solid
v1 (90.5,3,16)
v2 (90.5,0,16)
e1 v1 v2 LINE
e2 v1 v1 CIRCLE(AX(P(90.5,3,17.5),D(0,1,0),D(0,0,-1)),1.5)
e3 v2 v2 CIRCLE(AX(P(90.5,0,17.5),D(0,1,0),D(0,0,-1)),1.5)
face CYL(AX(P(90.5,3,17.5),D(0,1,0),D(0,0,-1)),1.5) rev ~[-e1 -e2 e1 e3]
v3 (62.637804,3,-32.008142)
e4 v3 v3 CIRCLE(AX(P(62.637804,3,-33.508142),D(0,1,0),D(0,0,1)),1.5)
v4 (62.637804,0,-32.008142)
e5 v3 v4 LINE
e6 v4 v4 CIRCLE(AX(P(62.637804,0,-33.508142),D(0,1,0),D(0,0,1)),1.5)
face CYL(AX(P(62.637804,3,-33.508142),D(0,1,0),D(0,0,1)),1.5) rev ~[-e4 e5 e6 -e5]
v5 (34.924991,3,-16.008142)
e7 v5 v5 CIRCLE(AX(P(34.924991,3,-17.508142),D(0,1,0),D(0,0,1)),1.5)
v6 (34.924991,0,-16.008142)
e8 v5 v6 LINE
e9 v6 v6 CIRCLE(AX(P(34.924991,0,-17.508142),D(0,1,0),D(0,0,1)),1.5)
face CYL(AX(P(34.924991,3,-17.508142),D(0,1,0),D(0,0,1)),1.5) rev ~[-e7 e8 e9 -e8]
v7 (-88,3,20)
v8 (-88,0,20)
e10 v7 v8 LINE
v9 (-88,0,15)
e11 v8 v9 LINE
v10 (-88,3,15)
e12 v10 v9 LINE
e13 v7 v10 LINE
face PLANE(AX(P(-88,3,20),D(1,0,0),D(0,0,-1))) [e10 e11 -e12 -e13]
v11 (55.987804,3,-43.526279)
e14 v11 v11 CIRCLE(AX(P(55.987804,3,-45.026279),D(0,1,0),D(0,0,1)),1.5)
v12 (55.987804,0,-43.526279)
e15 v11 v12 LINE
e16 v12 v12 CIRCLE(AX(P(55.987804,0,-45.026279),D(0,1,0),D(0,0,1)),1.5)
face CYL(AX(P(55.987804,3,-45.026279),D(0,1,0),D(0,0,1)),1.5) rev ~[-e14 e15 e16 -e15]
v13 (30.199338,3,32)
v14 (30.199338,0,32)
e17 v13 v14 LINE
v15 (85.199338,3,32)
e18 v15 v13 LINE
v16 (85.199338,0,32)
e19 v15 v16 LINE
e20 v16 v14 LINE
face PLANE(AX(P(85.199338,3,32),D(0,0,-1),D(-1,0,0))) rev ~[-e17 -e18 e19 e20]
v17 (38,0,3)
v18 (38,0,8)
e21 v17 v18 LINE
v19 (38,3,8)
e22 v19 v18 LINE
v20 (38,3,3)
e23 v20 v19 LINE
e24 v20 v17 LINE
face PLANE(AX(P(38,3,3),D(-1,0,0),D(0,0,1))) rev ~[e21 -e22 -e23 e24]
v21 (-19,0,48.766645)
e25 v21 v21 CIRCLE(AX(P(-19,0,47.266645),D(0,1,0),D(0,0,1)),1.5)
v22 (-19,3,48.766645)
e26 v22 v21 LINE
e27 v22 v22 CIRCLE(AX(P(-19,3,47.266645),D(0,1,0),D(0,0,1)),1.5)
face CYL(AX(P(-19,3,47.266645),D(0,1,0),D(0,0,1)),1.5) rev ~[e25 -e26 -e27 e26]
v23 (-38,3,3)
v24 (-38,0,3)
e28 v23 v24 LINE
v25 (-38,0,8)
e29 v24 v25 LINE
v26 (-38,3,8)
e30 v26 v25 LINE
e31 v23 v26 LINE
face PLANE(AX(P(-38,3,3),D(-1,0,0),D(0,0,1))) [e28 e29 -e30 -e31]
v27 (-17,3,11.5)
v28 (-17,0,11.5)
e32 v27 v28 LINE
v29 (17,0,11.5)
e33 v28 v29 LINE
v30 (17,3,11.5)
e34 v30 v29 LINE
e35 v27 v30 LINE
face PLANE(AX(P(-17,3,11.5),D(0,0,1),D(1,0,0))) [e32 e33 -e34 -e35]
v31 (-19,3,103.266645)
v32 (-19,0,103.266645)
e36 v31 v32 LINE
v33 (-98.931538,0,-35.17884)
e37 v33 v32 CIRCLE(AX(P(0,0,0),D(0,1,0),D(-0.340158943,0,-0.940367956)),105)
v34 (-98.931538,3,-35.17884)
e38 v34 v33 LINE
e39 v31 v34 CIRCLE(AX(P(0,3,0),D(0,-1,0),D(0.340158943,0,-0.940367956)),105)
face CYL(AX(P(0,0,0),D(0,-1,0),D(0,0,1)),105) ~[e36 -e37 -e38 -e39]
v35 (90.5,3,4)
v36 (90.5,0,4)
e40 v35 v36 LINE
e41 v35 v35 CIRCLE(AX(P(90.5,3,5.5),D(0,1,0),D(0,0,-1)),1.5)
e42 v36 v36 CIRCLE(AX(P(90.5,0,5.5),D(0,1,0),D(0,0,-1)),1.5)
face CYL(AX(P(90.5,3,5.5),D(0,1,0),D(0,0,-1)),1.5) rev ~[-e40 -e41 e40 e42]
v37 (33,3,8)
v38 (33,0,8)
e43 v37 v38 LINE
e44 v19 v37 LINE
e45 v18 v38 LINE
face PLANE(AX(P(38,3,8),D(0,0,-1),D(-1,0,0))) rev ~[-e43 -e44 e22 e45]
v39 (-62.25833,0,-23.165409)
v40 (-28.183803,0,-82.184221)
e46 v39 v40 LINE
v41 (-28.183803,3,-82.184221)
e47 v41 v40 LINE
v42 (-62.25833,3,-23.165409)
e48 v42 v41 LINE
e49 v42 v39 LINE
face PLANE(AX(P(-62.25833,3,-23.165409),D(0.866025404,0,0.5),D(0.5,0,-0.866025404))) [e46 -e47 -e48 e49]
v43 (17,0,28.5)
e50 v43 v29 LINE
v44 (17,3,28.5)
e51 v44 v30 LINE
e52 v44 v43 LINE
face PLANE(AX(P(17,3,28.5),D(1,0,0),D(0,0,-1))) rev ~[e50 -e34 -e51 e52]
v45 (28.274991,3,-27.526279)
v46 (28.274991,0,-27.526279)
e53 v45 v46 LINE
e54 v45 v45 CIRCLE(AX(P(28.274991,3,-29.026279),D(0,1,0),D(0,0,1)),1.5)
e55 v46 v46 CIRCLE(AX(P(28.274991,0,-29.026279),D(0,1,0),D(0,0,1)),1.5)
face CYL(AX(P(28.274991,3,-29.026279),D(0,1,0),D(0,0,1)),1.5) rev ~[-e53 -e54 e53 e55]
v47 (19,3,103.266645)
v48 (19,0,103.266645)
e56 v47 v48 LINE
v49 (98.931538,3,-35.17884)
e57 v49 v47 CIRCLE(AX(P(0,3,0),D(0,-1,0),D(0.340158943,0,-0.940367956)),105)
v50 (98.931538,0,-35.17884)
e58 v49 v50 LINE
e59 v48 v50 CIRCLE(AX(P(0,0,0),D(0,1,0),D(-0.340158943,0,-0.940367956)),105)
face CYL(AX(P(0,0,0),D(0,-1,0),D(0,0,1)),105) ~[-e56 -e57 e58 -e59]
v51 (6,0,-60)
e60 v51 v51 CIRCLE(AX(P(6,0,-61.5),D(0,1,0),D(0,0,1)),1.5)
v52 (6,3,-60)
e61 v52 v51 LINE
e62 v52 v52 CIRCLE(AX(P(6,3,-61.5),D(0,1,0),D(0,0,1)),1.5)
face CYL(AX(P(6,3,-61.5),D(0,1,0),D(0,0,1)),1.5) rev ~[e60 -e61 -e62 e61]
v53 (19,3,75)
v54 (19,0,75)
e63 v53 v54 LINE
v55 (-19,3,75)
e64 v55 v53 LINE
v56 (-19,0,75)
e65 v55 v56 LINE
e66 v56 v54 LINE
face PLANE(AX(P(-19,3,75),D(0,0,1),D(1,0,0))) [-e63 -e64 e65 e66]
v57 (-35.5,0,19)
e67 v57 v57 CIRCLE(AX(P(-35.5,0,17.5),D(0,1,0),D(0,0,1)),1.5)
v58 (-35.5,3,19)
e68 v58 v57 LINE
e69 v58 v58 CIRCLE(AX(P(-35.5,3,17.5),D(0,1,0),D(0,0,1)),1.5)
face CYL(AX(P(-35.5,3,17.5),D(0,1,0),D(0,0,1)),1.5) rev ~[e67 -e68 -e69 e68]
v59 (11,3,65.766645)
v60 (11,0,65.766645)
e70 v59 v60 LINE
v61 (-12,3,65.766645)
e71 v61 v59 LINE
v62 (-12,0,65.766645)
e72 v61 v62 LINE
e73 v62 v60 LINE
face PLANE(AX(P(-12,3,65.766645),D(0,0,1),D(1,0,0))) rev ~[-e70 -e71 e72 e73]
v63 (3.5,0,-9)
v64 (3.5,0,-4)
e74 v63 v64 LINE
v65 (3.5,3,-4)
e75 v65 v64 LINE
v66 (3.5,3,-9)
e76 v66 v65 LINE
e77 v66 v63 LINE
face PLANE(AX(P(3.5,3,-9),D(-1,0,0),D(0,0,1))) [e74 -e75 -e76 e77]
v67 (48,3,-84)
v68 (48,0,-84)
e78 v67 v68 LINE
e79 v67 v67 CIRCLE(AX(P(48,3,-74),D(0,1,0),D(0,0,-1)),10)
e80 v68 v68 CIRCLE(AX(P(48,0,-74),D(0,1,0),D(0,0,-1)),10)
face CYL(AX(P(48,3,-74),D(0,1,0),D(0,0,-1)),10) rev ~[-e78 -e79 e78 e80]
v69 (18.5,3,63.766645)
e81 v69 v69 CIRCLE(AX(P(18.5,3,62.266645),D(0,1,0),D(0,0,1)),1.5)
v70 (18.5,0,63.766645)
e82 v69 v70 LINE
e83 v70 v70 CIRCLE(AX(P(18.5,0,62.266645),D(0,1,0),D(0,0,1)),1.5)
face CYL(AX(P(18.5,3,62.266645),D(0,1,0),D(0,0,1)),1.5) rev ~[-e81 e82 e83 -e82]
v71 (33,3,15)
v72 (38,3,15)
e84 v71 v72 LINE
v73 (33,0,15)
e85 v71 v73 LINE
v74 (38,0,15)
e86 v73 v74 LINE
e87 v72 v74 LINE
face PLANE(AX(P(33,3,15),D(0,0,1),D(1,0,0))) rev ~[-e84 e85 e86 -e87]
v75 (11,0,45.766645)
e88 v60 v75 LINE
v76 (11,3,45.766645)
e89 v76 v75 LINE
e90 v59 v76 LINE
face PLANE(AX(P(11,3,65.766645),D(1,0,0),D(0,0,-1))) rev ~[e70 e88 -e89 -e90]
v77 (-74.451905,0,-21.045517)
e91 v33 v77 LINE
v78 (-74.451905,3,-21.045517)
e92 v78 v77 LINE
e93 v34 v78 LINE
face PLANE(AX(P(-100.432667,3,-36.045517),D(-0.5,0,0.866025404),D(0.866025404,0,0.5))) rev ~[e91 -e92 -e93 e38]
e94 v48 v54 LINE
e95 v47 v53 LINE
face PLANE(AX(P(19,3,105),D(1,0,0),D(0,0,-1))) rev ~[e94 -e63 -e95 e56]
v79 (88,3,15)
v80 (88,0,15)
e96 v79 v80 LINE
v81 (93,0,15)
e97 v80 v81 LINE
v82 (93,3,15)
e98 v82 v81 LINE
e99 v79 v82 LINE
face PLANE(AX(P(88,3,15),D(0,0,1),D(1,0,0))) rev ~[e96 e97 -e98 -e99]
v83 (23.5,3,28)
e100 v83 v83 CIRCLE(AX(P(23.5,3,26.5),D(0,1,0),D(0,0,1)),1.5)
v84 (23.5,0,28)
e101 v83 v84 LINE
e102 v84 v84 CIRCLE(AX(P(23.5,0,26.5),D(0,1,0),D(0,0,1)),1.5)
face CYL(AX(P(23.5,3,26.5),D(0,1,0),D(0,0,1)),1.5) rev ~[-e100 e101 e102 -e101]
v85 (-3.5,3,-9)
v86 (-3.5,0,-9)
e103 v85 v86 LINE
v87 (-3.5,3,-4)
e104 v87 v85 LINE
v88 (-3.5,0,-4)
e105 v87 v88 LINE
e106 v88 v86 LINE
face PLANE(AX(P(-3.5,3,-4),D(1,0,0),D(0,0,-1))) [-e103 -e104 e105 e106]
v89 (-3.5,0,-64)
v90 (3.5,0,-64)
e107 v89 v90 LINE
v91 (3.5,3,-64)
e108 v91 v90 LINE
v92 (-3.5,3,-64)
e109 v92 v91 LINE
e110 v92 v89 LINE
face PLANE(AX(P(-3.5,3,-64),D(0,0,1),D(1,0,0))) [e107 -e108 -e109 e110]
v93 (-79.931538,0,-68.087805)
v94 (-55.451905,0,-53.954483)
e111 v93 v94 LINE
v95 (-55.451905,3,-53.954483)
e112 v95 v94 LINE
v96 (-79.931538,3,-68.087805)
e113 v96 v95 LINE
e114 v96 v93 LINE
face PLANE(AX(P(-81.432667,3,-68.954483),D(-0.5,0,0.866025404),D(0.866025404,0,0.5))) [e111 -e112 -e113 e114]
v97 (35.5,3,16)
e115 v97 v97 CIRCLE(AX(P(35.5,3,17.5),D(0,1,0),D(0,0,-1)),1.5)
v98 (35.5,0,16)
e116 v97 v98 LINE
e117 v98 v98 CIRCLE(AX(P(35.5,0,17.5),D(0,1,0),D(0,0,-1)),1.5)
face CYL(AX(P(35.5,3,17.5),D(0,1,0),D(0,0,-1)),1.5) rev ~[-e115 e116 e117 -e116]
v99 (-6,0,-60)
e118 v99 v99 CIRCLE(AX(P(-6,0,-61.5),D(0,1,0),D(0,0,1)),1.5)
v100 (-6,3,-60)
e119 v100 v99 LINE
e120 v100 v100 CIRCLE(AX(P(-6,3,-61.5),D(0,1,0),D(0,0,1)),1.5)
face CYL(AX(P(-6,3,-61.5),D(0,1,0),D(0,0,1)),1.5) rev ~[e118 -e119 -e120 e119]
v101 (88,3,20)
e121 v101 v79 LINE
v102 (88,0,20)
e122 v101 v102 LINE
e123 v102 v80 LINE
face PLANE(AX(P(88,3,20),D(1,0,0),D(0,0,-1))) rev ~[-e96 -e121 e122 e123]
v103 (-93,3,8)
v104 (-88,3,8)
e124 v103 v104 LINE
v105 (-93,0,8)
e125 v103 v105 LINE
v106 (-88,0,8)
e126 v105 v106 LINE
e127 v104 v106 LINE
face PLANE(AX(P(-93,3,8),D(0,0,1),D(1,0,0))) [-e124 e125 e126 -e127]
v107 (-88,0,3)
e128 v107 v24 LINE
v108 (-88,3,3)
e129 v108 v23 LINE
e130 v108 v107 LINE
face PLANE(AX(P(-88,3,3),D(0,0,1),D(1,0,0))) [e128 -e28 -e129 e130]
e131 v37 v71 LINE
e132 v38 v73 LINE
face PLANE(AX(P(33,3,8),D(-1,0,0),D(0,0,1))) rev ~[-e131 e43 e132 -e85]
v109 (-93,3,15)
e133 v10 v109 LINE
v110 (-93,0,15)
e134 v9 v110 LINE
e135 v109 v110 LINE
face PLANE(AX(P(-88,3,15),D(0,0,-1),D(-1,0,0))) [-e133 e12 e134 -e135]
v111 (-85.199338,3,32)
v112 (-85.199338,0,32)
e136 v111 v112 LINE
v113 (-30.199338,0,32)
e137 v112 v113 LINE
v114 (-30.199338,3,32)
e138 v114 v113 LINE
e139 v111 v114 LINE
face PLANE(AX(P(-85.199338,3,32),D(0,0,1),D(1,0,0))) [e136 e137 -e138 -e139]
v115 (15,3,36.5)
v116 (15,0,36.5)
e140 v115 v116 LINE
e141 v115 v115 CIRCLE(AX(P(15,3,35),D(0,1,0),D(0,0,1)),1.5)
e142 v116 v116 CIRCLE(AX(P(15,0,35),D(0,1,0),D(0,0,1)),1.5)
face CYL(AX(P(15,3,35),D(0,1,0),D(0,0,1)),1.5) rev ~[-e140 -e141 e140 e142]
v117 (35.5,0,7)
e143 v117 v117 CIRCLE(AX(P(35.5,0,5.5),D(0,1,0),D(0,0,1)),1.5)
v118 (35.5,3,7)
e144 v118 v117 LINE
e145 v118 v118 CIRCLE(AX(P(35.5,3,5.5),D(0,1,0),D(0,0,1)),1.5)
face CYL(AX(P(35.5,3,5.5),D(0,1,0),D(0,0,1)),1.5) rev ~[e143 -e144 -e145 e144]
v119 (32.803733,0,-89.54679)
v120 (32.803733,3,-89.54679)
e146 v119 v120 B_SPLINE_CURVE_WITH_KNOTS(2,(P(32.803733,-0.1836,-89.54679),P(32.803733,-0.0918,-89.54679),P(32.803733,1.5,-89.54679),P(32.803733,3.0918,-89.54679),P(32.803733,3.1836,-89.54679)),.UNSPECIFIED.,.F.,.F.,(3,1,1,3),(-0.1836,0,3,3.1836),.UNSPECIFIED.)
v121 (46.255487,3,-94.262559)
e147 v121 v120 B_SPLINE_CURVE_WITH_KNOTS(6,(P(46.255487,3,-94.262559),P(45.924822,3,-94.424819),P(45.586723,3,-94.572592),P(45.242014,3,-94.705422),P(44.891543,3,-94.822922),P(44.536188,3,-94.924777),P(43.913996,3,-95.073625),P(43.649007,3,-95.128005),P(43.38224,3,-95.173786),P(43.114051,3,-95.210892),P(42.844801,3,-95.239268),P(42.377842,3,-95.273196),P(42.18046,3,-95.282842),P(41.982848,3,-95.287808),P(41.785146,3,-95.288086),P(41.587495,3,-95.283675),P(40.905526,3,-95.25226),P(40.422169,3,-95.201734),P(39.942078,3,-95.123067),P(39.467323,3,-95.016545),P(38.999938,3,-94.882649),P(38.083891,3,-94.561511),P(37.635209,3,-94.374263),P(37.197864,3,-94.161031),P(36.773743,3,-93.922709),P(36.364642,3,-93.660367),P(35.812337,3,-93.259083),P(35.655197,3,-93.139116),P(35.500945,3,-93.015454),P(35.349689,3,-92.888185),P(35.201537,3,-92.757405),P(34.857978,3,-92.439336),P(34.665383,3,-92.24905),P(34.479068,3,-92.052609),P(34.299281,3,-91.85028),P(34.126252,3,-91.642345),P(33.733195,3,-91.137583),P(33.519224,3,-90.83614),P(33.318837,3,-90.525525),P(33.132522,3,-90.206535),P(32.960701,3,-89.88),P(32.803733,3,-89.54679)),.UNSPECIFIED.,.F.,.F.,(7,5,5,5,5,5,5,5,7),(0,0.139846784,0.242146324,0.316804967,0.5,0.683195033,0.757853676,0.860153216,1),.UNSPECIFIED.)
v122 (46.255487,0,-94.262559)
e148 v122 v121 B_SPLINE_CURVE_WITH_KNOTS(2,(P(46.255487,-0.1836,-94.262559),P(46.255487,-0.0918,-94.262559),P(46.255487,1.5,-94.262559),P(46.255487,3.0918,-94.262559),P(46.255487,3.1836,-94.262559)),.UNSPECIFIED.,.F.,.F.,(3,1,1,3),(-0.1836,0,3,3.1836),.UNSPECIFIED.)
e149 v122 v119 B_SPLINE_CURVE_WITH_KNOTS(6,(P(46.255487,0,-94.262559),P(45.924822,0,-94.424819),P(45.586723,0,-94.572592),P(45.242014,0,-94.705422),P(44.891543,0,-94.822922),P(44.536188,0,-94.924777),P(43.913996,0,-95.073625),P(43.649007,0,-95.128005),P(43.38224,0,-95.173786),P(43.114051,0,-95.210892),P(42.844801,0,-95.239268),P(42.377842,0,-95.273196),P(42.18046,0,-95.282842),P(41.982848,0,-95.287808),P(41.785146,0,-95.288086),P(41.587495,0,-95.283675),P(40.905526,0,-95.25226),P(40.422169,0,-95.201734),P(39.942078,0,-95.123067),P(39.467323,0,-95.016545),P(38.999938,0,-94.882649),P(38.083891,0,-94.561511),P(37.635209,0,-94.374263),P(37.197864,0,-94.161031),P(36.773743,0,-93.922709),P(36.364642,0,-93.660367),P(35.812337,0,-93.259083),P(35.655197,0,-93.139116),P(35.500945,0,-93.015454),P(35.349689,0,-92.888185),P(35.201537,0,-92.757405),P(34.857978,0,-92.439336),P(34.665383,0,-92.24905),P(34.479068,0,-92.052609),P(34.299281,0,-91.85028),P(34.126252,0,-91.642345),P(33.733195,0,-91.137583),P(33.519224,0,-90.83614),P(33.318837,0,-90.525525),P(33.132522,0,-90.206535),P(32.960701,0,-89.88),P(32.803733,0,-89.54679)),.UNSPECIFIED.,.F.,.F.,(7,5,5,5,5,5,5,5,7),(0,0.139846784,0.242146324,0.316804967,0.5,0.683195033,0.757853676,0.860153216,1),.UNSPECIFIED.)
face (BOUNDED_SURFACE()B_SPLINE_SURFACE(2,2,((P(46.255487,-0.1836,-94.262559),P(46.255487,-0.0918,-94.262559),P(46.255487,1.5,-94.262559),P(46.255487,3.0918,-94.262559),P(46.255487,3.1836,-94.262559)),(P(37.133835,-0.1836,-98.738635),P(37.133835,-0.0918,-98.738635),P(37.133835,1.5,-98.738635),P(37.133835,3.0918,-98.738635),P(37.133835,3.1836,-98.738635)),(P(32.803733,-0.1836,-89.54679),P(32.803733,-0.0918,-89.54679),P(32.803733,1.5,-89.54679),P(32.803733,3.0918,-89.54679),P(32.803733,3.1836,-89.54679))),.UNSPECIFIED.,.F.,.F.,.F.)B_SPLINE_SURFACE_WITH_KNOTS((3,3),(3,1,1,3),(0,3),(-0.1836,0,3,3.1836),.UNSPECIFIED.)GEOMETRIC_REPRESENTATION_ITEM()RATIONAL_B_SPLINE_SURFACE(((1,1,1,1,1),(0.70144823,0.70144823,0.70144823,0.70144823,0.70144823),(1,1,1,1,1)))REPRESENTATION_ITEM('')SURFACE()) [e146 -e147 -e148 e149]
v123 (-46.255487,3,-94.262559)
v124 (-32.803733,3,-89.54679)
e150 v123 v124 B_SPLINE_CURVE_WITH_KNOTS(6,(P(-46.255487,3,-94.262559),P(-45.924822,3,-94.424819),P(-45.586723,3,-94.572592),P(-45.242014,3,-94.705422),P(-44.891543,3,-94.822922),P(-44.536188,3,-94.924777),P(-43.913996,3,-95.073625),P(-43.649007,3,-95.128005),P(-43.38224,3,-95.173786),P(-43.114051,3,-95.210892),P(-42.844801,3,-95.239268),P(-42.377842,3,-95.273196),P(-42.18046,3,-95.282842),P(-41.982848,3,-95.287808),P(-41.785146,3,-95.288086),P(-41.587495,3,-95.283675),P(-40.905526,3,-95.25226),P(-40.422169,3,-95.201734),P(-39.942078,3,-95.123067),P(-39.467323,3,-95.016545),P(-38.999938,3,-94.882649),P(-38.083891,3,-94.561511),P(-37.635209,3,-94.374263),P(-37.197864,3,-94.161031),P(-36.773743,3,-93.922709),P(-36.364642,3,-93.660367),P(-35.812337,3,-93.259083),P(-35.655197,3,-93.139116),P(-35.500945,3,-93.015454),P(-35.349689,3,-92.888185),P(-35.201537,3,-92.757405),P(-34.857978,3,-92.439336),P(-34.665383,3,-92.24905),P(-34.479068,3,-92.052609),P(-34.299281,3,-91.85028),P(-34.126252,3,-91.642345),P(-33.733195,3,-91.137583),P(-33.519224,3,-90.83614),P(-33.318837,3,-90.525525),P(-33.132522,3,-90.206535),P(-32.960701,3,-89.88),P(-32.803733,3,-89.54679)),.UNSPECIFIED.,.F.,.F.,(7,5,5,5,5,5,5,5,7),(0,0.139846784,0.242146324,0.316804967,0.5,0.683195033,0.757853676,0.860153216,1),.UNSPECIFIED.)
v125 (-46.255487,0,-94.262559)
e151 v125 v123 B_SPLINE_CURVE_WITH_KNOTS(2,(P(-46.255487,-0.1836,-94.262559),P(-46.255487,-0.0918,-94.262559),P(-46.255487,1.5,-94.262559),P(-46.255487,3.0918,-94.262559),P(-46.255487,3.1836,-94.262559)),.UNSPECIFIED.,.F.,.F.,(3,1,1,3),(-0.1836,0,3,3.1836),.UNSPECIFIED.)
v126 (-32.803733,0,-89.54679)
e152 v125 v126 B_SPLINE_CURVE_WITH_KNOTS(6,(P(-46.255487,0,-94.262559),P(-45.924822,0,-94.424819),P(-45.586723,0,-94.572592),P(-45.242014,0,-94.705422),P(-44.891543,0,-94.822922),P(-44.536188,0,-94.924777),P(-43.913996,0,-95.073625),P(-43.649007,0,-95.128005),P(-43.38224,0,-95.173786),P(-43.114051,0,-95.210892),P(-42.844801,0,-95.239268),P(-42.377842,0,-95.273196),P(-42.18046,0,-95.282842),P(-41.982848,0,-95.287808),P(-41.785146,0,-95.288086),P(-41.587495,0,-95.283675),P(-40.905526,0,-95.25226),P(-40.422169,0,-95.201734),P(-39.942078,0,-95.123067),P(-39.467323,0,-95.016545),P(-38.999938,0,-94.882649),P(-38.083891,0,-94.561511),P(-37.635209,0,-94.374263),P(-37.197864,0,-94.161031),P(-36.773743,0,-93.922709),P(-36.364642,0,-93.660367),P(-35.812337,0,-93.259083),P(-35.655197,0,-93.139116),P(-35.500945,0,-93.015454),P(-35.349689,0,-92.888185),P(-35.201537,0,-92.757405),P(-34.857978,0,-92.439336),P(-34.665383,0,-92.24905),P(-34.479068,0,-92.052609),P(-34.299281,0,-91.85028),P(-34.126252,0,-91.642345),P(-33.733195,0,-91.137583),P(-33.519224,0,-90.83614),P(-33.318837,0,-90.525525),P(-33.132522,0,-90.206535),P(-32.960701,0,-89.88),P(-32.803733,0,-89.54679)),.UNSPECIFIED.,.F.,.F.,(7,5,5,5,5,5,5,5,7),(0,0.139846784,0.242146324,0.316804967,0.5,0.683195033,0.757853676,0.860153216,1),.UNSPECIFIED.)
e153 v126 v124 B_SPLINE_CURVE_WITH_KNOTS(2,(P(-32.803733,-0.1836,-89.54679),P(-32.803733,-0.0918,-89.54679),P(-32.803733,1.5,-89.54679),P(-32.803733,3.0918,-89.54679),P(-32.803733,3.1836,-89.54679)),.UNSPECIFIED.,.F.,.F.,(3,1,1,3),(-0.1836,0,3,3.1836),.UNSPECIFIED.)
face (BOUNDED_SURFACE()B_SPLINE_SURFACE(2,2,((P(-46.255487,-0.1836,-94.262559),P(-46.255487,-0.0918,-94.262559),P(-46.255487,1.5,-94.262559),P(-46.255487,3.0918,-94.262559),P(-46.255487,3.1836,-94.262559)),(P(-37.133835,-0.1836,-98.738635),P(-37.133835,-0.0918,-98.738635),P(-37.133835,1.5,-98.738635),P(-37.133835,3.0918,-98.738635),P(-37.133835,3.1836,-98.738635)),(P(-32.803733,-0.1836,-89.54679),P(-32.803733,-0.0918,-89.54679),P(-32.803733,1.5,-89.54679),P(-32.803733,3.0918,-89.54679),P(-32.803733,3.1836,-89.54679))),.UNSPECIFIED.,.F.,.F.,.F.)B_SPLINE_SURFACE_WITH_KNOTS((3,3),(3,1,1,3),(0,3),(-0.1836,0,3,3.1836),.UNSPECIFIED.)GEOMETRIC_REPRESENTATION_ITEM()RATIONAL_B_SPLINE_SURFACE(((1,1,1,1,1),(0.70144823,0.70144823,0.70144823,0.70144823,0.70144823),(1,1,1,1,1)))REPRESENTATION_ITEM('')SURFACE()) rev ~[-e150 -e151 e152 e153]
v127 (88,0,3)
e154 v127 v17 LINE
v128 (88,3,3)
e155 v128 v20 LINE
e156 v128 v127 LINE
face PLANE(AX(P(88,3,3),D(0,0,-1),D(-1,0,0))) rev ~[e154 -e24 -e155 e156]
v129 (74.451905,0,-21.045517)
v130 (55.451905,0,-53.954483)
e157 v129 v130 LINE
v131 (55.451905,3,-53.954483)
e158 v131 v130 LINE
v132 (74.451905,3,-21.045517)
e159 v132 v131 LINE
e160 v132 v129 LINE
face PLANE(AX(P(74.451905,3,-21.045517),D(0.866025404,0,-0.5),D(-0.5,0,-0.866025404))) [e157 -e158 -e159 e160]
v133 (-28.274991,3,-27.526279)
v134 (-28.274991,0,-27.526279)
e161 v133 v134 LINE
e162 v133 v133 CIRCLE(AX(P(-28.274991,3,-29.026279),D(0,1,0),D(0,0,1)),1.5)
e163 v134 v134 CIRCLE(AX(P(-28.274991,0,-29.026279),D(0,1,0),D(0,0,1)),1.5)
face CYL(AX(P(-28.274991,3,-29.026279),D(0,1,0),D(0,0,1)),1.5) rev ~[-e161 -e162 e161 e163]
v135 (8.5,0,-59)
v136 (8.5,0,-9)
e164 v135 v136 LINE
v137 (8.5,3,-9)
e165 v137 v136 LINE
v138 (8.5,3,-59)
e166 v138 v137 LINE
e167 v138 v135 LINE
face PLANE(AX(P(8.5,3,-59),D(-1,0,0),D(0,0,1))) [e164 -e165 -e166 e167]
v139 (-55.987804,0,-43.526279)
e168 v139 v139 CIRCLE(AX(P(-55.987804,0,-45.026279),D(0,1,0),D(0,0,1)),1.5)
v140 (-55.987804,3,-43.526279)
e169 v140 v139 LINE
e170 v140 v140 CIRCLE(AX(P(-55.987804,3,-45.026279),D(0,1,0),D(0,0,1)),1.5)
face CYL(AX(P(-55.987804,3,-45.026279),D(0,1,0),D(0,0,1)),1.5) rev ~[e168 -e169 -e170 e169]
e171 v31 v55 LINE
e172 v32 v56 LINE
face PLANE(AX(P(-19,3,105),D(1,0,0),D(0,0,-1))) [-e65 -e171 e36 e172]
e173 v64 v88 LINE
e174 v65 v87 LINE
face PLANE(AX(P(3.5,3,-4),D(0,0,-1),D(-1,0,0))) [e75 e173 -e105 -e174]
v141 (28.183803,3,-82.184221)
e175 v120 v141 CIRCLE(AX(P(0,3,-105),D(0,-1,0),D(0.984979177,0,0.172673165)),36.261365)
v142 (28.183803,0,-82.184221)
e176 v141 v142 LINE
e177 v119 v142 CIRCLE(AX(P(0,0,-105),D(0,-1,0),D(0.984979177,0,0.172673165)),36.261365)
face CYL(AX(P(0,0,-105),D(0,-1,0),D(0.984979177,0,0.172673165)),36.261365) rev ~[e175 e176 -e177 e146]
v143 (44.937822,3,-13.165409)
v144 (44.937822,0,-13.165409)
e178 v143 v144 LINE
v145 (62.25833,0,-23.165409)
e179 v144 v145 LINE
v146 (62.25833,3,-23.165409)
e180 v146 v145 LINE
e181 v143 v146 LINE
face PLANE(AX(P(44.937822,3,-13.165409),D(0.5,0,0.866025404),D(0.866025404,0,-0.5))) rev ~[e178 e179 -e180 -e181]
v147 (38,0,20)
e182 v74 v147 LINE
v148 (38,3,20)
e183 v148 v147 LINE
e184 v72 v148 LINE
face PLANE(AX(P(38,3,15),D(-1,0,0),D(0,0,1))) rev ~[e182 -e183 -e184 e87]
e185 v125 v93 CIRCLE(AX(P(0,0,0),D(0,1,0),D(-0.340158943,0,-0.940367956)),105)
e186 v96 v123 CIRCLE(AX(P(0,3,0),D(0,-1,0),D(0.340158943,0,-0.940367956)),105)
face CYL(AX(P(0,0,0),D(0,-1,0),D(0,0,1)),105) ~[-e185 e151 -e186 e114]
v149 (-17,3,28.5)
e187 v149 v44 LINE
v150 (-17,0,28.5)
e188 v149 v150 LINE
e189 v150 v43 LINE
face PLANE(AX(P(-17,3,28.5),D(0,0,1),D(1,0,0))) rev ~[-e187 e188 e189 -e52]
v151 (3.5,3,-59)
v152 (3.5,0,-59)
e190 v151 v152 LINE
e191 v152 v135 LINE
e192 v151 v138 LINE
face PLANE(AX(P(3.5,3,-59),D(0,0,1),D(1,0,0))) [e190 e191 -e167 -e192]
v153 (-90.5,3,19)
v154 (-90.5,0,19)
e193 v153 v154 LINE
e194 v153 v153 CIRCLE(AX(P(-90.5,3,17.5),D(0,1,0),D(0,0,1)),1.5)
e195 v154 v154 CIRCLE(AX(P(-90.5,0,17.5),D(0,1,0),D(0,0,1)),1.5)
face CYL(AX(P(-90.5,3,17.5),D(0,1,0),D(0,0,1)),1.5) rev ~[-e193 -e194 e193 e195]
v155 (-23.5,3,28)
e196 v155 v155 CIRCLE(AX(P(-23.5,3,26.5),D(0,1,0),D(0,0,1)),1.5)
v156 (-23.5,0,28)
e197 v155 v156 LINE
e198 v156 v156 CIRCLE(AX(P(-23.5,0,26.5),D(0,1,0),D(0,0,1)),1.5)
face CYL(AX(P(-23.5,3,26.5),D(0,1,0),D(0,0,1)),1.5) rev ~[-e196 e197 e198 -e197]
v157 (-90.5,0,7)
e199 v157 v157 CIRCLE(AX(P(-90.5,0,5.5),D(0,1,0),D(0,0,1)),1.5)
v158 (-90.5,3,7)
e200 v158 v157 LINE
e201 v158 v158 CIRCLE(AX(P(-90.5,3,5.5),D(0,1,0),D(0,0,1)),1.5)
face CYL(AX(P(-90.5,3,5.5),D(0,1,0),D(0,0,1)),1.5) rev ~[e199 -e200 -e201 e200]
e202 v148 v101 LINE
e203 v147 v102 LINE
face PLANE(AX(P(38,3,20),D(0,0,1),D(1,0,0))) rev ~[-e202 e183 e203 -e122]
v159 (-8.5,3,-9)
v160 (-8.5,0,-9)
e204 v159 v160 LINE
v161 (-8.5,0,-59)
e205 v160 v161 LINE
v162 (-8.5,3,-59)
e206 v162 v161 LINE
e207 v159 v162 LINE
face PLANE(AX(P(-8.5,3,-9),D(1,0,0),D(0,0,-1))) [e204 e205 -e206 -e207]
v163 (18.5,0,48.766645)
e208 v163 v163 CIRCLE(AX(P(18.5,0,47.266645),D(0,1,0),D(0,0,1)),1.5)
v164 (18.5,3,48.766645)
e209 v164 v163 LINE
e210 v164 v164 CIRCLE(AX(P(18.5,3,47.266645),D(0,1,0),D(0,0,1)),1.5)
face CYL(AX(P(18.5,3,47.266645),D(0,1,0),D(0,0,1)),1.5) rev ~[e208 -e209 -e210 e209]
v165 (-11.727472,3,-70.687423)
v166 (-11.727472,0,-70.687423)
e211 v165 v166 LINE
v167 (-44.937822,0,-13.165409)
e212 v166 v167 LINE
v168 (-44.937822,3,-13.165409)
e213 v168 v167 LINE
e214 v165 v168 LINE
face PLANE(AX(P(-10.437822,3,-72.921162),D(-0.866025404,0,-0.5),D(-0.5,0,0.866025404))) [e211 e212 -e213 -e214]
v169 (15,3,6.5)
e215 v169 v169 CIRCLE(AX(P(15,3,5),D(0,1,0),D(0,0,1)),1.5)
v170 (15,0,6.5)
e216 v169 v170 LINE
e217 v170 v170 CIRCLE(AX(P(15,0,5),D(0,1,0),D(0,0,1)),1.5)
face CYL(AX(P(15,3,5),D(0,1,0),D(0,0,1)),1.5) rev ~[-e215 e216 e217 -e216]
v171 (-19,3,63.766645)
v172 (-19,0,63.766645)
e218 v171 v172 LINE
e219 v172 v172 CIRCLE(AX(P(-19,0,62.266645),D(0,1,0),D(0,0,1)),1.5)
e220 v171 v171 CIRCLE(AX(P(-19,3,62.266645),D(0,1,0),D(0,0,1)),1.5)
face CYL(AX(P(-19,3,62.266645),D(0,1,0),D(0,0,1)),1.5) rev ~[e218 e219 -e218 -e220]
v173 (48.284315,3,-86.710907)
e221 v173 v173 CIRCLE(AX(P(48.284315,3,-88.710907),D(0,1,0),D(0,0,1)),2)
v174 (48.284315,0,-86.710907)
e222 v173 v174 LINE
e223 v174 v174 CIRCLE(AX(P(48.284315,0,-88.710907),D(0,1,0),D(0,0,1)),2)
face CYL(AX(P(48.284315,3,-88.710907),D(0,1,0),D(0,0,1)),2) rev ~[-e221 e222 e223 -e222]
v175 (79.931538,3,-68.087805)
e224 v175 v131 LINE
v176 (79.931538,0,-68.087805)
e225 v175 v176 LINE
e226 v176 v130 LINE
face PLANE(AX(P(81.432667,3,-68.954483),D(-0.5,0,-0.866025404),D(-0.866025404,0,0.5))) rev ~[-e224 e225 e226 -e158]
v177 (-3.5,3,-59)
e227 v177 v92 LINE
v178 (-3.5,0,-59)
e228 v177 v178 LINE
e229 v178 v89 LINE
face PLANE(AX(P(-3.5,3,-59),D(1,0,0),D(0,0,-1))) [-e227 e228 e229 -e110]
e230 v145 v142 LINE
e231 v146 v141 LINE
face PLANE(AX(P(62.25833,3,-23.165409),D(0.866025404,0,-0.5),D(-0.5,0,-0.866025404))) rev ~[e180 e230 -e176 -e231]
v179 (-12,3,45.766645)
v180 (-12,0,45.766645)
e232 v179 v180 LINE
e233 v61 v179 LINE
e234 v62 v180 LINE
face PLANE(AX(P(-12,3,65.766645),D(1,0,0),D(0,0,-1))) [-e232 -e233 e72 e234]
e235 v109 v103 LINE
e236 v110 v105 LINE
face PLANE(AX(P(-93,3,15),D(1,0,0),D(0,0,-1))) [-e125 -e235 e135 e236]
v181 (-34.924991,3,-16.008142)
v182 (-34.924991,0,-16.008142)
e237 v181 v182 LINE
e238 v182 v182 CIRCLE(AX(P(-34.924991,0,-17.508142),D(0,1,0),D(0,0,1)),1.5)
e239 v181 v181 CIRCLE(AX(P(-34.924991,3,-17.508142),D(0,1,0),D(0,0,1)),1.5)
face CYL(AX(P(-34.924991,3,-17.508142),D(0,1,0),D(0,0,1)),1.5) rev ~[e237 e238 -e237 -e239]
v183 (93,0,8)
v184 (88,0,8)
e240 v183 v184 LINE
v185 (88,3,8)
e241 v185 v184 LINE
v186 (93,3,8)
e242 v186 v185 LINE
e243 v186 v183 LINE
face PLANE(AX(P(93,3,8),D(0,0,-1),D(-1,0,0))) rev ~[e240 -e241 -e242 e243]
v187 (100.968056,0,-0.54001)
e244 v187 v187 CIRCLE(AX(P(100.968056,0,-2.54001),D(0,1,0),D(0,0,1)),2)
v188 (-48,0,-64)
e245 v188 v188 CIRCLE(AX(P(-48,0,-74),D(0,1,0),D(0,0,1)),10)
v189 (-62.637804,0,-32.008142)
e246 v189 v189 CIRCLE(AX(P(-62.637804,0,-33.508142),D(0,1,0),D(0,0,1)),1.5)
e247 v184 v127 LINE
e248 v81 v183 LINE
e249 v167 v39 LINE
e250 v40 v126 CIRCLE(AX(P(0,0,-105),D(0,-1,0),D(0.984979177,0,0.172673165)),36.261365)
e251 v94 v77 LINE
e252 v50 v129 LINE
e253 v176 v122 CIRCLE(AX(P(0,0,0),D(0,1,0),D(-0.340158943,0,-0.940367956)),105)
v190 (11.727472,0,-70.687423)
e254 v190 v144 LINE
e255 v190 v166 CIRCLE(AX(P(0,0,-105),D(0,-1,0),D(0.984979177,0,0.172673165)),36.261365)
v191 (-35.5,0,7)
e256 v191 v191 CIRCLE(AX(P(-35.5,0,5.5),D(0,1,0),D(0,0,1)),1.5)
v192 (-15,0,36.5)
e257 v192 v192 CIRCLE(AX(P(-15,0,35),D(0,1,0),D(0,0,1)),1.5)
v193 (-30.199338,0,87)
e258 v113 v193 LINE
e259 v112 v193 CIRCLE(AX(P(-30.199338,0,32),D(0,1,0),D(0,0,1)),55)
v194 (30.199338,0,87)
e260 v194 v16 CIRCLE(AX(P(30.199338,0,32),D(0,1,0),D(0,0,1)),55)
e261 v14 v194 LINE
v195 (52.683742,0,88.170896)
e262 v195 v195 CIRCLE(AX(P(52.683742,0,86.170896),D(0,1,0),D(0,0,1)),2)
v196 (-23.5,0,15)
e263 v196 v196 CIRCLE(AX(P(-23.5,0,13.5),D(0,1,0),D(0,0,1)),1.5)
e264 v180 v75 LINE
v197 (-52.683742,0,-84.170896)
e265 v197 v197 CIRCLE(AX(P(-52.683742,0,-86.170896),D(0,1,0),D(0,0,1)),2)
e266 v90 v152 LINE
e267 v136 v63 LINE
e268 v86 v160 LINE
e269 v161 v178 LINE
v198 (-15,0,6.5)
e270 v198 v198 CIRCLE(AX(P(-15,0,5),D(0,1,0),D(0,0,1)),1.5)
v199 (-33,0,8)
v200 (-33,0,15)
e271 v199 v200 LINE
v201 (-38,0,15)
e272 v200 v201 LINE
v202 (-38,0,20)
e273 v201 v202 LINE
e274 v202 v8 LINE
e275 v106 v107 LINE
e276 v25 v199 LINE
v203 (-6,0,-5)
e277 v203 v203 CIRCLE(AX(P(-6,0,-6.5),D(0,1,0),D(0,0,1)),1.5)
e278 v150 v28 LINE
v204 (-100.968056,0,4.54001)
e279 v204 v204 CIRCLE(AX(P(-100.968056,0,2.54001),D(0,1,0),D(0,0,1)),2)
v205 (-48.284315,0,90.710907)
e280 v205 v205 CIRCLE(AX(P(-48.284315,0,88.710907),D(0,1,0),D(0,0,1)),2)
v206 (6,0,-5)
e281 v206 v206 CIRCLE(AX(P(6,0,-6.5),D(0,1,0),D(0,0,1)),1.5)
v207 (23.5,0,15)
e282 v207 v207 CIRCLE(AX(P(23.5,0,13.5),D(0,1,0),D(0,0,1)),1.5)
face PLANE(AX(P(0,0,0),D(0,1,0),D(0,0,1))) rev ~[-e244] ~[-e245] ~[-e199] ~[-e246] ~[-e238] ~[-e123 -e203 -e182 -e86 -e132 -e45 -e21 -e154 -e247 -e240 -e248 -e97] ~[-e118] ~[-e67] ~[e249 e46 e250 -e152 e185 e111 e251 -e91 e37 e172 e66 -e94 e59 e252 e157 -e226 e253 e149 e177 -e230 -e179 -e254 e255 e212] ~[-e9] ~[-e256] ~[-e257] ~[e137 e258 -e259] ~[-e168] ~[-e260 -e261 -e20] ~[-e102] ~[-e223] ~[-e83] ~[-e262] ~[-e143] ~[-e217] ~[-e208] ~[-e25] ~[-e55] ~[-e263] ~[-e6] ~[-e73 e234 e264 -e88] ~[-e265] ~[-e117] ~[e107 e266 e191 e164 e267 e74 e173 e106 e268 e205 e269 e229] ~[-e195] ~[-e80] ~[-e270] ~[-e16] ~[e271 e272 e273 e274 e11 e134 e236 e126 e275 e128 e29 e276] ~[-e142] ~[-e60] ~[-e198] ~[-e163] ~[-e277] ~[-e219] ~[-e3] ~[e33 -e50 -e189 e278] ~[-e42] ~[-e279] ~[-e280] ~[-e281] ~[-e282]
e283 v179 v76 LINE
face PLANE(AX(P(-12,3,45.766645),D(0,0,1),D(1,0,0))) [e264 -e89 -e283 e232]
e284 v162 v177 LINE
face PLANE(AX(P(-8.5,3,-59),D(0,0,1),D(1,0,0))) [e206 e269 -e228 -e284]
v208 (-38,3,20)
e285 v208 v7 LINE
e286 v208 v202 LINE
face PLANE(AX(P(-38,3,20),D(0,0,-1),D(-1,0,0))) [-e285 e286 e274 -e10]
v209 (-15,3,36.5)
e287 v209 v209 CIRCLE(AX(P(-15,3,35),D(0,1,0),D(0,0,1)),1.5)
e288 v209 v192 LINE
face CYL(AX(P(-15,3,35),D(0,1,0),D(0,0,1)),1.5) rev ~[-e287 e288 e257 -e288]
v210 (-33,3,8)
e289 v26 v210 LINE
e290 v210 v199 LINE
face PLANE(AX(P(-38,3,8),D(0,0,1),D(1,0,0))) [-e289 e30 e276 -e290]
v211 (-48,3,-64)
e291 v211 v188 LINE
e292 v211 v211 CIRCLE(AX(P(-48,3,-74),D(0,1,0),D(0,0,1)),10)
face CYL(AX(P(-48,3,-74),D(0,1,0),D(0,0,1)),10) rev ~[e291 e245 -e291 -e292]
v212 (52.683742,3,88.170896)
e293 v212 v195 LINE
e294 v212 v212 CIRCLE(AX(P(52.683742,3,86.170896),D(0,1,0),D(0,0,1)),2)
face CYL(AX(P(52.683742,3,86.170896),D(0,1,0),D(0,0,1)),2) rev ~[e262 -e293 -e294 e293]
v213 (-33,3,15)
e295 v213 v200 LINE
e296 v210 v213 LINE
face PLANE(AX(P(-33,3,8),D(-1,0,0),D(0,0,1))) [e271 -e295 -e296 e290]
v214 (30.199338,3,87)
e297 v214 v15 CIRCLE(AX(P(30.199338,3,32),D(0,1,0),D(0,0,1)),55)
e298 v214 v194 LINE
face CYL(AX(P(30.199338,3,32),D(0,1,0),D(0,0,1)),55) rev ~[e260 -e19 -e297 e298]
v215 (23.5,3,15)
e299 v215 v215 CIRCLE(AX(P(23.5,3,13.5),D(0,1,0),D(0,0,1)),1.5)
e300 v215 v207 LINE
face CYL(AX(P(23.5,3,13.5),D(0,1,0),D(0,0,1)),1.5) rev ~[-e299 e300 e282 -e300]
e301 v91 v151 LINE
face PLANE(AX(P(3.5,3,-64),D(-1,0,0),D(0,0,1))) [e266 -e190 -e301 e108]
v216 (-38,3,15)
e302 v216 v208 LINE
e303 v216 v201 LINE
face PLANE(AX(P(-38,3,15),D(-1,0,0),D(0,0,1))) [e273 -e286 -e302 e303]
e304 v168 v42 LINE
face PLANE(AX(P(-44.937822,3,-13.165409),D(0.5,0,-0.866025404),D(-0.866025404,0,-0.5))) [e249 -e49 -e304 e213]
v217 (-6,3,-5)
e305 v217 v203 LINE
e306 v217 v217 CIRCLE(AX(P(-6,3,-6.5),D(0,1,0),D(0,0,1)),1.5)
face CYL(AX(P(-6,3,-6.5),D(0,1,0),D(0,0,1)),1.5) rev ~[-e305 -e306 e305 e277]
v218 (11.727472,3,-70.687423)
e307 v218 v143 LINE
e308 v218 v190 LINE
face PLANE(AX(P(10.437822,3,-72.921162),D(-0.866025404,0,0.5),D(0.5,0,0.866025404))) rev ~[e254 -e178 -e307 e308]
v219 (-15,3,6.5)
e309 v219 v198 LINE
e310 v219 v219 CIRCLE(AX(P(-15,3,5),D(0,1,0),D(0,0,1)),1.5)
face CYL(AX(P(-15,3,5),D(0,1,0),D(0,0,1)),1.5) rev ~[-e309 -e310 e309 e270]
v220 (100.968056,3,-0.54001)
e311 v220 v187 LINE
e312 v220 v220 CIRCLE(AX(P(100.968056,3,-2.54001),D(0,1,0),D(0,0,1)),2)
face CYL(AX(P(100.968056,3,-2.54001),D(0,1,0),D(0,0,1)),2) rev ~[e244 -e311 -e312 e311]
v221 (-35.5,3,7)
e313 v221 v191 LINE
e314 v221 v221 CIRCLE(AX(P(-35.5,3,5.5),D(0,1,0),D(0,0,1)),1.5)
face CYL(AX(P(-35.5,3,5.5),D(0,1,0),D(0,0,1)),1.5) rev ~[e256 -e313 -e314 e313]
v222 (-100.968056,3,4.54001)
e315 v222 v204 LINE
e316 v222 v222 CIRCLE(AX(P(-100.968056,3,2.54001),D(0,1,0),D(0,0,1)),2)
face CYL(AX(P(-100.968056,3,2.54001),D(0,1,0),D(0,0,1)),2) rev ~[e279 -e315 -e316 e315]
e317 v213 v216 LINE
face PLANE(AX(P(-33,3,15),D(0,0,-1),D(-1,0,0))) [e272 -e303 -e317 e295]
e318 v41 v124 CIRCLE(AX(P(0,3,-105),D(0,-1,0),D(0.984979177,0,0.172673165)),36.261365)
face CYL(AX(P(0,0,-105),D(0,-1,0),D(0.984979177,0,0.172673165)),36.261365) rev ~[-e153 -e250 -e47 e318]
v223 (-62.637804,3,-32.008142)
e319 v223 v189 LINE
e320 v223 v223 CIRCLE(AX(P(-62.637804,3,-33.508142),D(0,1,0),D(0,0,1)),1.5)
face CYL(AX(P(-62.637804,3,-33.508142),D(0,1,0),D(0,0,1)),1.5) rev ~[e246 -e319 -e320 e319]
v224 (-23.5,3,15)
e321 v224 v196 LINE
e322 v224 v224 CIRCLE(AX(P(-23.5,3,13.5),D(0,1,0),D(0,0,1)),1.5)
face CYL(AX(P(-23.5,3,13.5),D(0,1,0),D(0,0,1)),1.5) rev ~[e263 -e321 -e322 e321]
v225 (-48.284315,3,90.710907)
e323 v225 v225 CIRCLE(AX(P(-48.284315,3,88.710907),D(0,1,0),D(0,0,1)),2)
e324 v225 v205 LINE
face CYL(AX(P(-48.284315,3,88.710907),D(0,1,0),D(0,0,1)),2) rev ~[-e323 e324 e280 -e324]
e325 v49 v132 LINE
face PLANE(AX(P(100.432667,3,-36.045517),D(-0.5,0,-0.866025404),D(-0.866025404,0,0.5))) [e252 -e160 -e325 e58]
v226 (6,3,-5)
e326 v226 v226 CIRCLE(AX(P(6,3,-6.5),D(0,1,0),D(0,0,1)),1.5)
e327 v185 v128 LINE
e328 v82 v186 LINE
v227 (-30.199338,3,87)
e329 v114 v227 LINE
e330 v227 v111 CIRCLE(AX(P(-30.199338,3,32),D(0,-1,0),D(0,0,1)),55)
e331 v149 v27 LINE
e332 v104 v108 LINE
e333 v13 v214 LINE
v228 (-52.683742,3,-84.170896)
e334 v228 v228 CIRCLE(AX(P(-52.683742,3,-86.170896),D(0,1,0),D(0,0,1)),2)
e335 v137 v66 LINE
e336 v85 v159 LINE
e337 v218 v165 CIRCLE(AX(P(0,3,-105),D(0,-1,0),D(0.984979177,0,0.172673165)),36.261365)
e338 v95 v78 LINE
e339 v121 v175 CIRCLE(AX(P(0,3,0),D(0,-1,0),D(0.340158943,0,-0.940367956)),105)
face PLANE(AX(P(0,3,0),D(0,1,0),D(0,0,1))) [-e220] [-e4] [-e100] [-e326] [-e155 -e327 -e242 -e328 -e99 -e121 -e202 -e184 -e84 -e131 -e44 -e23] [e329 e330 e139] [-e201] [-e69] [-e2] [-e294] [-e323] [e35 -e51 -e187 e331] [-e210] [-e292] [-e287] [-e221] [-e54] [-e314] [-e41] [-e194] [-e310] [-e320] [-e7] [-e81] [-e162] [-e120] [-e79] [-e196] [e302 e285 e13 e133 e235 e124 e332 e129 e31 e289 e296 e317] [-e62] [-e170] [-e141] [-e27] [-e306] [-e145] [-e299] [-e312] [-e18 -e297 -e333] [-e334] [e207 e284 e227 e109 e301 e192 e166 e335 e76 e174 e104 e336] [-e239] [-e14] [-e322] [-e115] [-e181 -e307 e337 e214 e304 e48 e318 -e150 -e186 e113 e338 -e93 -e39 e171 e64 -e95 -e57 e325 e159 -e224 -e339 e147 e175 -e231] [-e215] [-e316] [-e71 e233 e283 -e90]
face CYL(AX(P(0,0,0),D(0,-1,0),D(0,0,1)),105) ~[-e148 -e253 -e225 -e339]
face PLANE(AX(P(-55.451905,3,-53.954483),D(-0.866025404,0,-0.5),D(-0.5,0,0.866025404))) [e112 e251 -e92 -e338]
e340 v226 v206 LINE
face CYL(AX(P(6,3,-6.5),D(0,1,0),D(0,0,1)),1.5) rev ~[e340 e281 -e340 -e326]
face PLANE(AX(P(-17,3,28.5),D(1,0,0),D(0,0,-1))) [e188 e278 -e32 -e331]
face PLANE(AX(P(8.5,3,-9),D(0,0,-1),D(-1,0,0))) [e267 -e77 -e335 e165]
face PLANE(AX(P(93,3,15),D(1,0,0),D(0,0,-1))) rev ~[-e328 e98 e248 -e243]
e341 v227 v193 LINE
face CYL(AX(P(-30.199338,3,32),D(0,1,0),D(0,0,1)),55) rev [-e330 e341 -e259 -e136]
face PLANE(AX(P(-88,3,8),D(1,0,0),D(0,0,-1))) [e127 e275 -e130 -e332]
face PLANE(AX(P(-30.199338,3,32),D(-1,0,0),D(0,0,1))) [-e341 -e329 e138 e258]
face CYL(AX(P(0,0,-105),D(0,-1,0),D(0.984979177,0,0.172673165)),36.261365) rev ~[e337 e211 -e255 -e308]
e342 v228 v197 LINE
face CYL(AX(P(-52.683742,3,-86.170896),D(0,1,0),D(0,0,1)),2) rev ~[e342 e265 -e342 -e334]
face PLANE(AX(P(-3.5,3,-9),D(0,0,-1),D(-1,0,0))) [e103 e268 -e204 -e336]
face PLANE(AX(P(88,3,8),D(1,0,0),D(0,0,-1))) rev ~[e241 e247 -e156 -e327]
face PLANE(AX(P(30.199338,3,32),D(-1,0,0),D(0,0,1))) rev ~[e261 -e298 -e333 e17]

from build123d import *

# Parameters (mm, degrees)
CROQUIS1_R              = 105
SALIENTE_EXTRUIR1_DEPTH = 3
CORTAR_EXTRUIR1_START   = -3
CORTAR_EXTRUIR1_DEPTH   = 3
REDONDEO1_R             = 10
CROQUIS3_W              = 38
CROQUIS3_H              = 30
CORTAR_EXTRUIR2_DEPTH   = 149.522725677
MATRIZC2_COUNT          = 3
CORTAR_EXTRUIR3_DEPTH   = 148.302410171
CROQUIS5_R              = 1.5
CORTAR_EXTRUIR4_DEPTH   = 148.302410171
CROQUIS6_R              = 1.5
CORTAR_EXTRUIR5_DEPTH   = 148.302410171
CROQUIS7_R              = 1.5
CORTAR_EXTRUIR6_DEPTH   = 148.302410171
CROQUIS8_R              = 1.5
CORTAR_EXTRUIR8_DEPTH   = 10
CORTAR_EXTRUIR9_DEPTH   = 148.302410171
CROQUIS11_R             = 1.5
CORTAR_EXTRUIR10_DEPTH  = 148.302410171
CROQUIS12_R             = 1.5
CORTAR_EXTRUIR11_DEPTH  = 148.302410171
CROQUIS14_R             = 1.5
CORTAR_EXTRUIR15_DEPTH  = 148.302410171
CORTAR_EXTRUIR18_DEPTH  = 148.302410171
CROQUIS17_R             = 10
CORTAR_EXTRUIR19_DEPTH  = 148.302410171
CROQUIS19_R             = 1.5
CORTAR_EXTRUIR20_DEPTH  = 148.302410171
CROQUIS20_W             = 23
CROQUIS20_H             = 20
CORTAR_EXTRUIR21_DEPTH  = 148.302410171
CROQUIS21_R             = 1.5
CORTAR_EXTRUIR23_DEPTH  = 10
CROQUIS22_R             = 2
CORTAR_EXTRUIR24_DEPTH  = 148.302410171
CORTAR_EXTRUIR25_DEPTH  = 148.302410171
CROQUIS24_W             = 34
CROQUIS24_H             = 17
CORTAR_EXTRUIR26_DEPTH  = 148.302410171


with BuildPart() as part:
    # Croquis1 → Saliente-Extruir1 (new body)
    with BuildSketch(Plane(origin=(0, 0, 0), x_dir=(1, 0, 0), z_dir=(0, 1, 0))):
        with Locations(Location((0, 0, 0), (0, 0, 270))):
            Circle(CROQUIS1_R)
    extrude(amount=SALIENTE_EXTRUIR1_DEPTH)

    # Croquis2 → Cortar-Extruir1 (cut)
    with BuildSketch(Plane(origin=(0, 3, 0), x_dir=(1, 0, 0), z_dir=(0, 1, 0)).offset(CORTAR_EXTRUIR1_START)):
        with BuildLine():
            ThreePointArc((35.71668902, 98.738635424), (0, 68.738635424), (-35.71668902, 98.738635424))
            ThreePointArc((-35.71668902, 98.738635424), (0, 105), (35.71668902, 98.738635424))
        make_face()
    extrude(amount=CORTAR_EXTRUIR1_DEPTH, mode=Mode.SUBTRACT)

    # Redondeo1
    redondeo1_edges = [part.edges().sort_by_distance(p)[0] for p in [
        (-35.71668902, 1.5, -98.738635424),
        (35.71668902, 1.5, -98.738635424),
    ]]
    fillet(redondeo1_edges, radius=REDONDEO1_R)

    # Croquis3 → Cortar-Extruir2 (cut, through all)
    with BuildSketch(Plane(origin=(0, 3, 0), x_dir=(1, 0, 0), z_dir=(0, 1, 0))):
        with Locations((0, -90)):
            Rectangle(CROQUIS3_W, CROQUIS3_H)
    cortar_extruir2 = extrude(amount=-CORTAR_EXTRUIR2_DEPTH, mode=Mode.SUBTRACT)

    # MatrizC2: Cortar-Extruir2 ×3 about axis
    matrizc2_axis = Axis((0, 0, 0), (0, 1, 0))
    for i in range(1, MATRIZC2_COUNT):
        add(cortar_extruir2.rotate(matrizc2_axis, i * 360 / MATRIZC2_COUNT), mode=Mode.SUBTRACT)

    # Croquis4 → Cortar-Extruir3 (cut, through all)
    with BuildSketch(Plane(origin=(0, 3, 0), x_dir=(1, 0, 0), z_dir=(0, 1, 0))):
        Polygon((-88, -3), (-38, -3), (-38, -8), (-33, -8), (-33, -15), (-38, -15), (-38, -20), (-88, -20), (-88, -15), (-93, -15), (-93, -8), (-88, -8), align=None)
        Polygon((33, -15), (38, -15), (38, -20), (88, -20), (88, -15), (93, -15), (93, -8), (88, -8), (88, -3), (38, -3), (38, -8), (33, -8), align=None)
    extrude(amount=-CORTAR_EXTRUIR3_DEPTH, mode=Mode.SUBTRACT)

    # Croquis5 → Cortar-Extruir4 (cut, through all)
    with BuildSketch(Plane(origin=(0, 3, 0), x_dir=(1, 0, 0), z_dir=(0, 1, 0))):
        with Locations(Location((-90.5, -5.5, 0), (0, 0, 270))):
            Circle(CROQUIS5_R)
        with Locations(Location((90.5, -5.5, 0), (0, 0, 90))):
            Circle(CROQUIS5_R)
    extrude(amount=-CORTAR_EXTRUIR4_DEPTH, mode=Mode.SUBTRACT)

    # Croquis6 → Cortar-Extruir5 (cut, through all)
    with BuildSketch(Plane(origin=(0, 3, 0), x_dir=(1, 0, 0), z_dir=(0, 1, 0))):
        with Locations(Location((-90.5, -17.5, 0), (0, 0, 270))):
            Circle(CROQUIS6_R)
        with Locations(Location((90.5, -17.5, 0), (0, 0, 90))):
            Circle(CROQUIS6_R)
    extrude(amount=-CORTAR_EXTRUIR5_DEPTH, mode=Mode.SUBTRACT)

    # Croquis7 → Cortar-Extruir6 (cut, through all)
    with BuildSketch(Plane(origin=(0, 3, 0), x_dir=(1, 0, 0), z_dir=(0, 1, 0))):
        with Locations(Location((-35.5, -17.5, 0), (0, 0, 270))):
            Circle(CROQUIS7_R)
        with Locations(Location((35.5, -17.5, 0), (0, 0, 90))):
            Circle(CROQUIS7_R)
    extrude(amount=-CORTAR_EXTRUIR6_DEPTH, mode=Mode.SUBTRACT)

    # Croquis8 → Cortar-Extruir8 (cut)
    with BuildSketch(Plane(origin=(0, 3, 0), x_dir=(1, 0, 0), z_dir=(0, 1, 0))):
        with Locations(Location((-35.5, -5.5, 0), (0, 0, 270))):
            Circle(CROQUIS8_R)
        with Locations(Location((35.5, -5.5, 0), (0, 0, 270))):
            Circle(CROQUIS8_R)
    extrude(amount=-CORTAR_EXTRUIR8_DEPTH, mode=Mode.SUBTRACT)

    # Croquis10 → Cortar-Extruir9 (cut, through all)
    with BuildSketch(Plane(origin=(0, 3, 0), x_dir=(1, 0, 0), z_dir=(0, 1, 0))):
        Polygon((-3.5, 64), (3.5, 64), (3.5, 59), (8.5, 59), (8.5, 9), (3.5, 9), (3.5, 4), (-3.5, 4), (-3.5, 9), (-8.5, 9), (-8.5, 59), (-3.5, 59), align=None)
    extrude(amount=-CORTAR_EXTRUIR9_DEPTH, mode=Mode.SUBTRACT)

    # Croquis11 → Cortar-Extruir10 (cut, through all)
    with BuildSketch(Plane(origin=(0, 3, 0), x_dir=(1, 0, 0), z_dir=(0, 1, 0))):
        with Locations(Location((-6, 61.5, 0), (0, 0, 270))):
            Circle(CROQUIS11_R)
        with Locations(Location((6, 61.5, 0), (0, 0, 270))):
            Circle(CROQUIS11_R)
    extrude(amount=-CORTAR_EXTRUIR10_DEPTH, mode=Mode.SUBTRACT)

    # Croquis12 → Cortar-Extruir11 (cut, through all)
    with BuildSketch(Plane(origin=(0, 3, 0), x_dir=(1, 0, 0), z_dir=(0, 1, 0))):
        with Locations(Location((-6, 6.5, 0), (0, 0, 270))):
            Circle(CROQUIS12_R)
        with Locations(Location((6, 6.5, 0), (0, 0, 270))):
            Circle(CROQUIS12_R)
    extrude(amount=-CORTAR_EXTRUIR11_DEPTH, mode=Mode.SUBTRACT)

    # Croquis14 → Cortar-Extruir15 (cut, through all)
    with BuildSketch(Plane(origin=(0, 3, 0), x_dir=(1, 0, 0), z_dir=(0, 1, 0))):
        with Locations(Location((-19, -47.266645147, 0), (0, 0, 270))):
            Circle(CROQUIS14_R)
        with Locations(Location((-19, -62.266645147, 0), (0, 0, 270))):
            Circle(CROQUIS14_R)
        with Locations(Location((18.5, -47.266645147, 0), (0, 0, 270))):
            Circle(CROQUIS14_R)
        with Locations(Location((18.5, -62.266645147, 0), (0, 0, 270))):
            Circle(CROQUIS14_R)
    extrude(amount=-CORTAR_EXTRUIR15_DEPTH, mode=Mode.SUBTRACT)

    # Croquis16 → Cortar-Extruir18 (cut, through all)
    with BuildSketch(Plane(origin=(0, 3, 0), x_dir=(1, 0, 0), z_dir=(0, 1, 0))):
        with BuildLine():
            Line((-85.199337741, -32), (-30.199337741, -32))
            Line((-30.199337741, -32), (-30.199337741, -87))
            ThreePointArc((-30.199337741, -87), (-69.090210706, -70.890872965), (-85.199337741, -32))
        make_face()
        with BuildLine():
            Line((30.199337741, -32), (30.199337741, -87))
            ThreePointArc((30.199337741, -87), (69.090210706, -70.890872965), (85.199337741, -32))
            Line((85.199337741, -32), (30.199337741, -32))
        make_face()
    extrude(amount=-CORTAR_EXTRUIR18_DEPTH, mode=Mode.SUBTRACT)

    # Croquis17 → Cortar-Extruir19 (cut, through all)
    with BuildSketch(Plane(origin=(0, 3, 0), x_dir=(1, 0, 0), z_dir=(0, 1, 0))):
        with Locations(Location((-48, 74, 0), (0, 0, 270))):
            Circle(CROQUIS17_R)
        with Locations(Location((48, 74, 0), (0, 0, 90))):
            Circle(CROQUIS17_R)
    extrude(amount=-CORTAR_EXTRUIR19_DEPTH, mode=Mode.SUBTRACT)

    # Croquis19 → Cortar-Extruir20 (cut, through all)
    with BuildSketch(Plane(origin=(0, 3, 0), x_dir=(1, 0, 0), z_dir=(0, 1, 0))):
        with Locations(Location((-15, -35, 0), (0, 0, 270))):
            Circle(CROQUIS19_R)
        with Locations(Location((15, -35, 0), (0, 0, 270))):
            Circle(CROQUIS19_R)
        with Locations(Location((23.5, -13.5, 0), (0, 0, 270))):
            Circle(CROQUIS19_R)
        with Locations(Location((23.5, -26.5, 0), (0, 0, 270))):
            Circle(CROQUIS19_R)
        with Locations(Location((-23.5, -26.5, 0), (0, 0, 270))):
            Circle(CROQUIS19_R)
        with Locations(Location((-23.5, -13.5, 0), (0, 0, 270))):
            Circle(CROQUIS19_R)
        with Locations(Location((-15, -5, 0), (0, 0, 270))):
            Circle(CROQUIS19_R)
        with Locations(Location((15, -5, 0), (0, 0, 270))):
            Circle(CROQUIS19_R)
    extrude(amount=-CORTAR_EXTRUIR20_DEPTH, mode=Mode.SUBTRACT)

    # Croquis20 → Cortar-Extruir21 (cut, through all)
    with BuildSketch(Plane(origin=(0, 3, 0), x_dir=(1, 0, 0), z_dir=(0, 1, 0))):
        with Locations((-0.5, -55.766645147)):
            Rectangle(CROQUIS20_W, CROQUIS20_H)
    extrude(amount=-CORTAR_EXTRUIR21_DEPTH, mode=Mode.SUBTRACT)

    # Croquis21 → Cortar-Extruir23 (cut)
    with BuildSketch(Plane(origin=(0, 3, 0), x_dir=(1, 0, 0), z_dir=(0, 1, 0))):
        with Locations(Location((-62.637803669, 33.508141571, 0), (0, 0, 270))):
            Circle(CROQUIS21_R)
        with Locations(Location((-55.987803669, 45.026279442, 0), (0, 0, 270))):
            Circle(CROQUIS21_R)
        with Locations(Location((-28.274990748, 29.026279442, 0), (0, 0, 270))):
            Circle(CROQUIS21_R)
        with Locations(Location((-34.924990748, 17.508141571, 0), (0, 0, 270))):
            Circle(CROQUIS21_R)
        with Locations(Location((28.274990748, 29.026279442, 0), (0, 0, 270))):
            Circle(CROQUIS21_R)
        with Locations(Location((34.924990748, 17.508141571, 0), (0, 0, 270))):
            Circle(CROQUIS21_R)
        with Locations(Location((62.637803669, 33.508141571, 0), (0, 0, 270))):
            Circle(CROQUIS21_R)
        with Locations(Location((55.987803669, 45.026279442, 0), (0, 0, 270))):
            Circle(CROQUIS21_R)
    extrude(amount=-CORTAR_EXTRUIR23_DEPTH, mode=Mode.SUBTRACT)

    # Croquis22 → Cortar-Extruir24 (cut, through all)
    with BuildSketch(Plane(origin=(0, 3, 0), x_dir=(1, 0, 0), z_dir=(0, 1, 0))):
        with Locations(Location((-100.968056074, -2.540010349, 0), (0, 0, 270))):
            Circle(CROQUIS22_R)
        with Locations(Location((-52.683741526, 86.170896356, 0), (0, 0, 270))):
            Circle(CROQUIS22_R)
        with Locations(Location((48.284314549, 88.710906706, 0), (0, 0, 270))):
            Circle(CROQUIS22_R)
        with Locations(Location((100.968056074, 2.540010349, 0), (0, 0, 270))):
            Circle(CROQUIS22_R)
        with Locations(Location((52.683741526, -86.170896356, 0), (0, 0, 270))):
            Circle(CROQUIS22_R)
        with Locations(Location((-48.284314549, -88.710906706, 0), (0, 0, 270))):
            Circle(CROQUIS22_R)
    extrude(amount=-CORTAR_EXTRUIR24_DEPTH, mode=Mode.SUBTRACT)

    # Croquis23 → Cortar-Extruir25 (cut, through all)
    with BuildSketch(Plane(origin=(0, 3, 0), x_dir=(1, 0, 0), z_dir=(0, 1, 0))):
        Polygon((-62.258330249, 23.165408814), (-27.758330249, 82.921161675), (-10.437822174, 72.921161675), (-44.937822174, 13.165408814), align=None)
        Polygon((27.758330249, 82.921161675), (10.437822174, 72.921161675), (44.937822174, 13.165408814), (62.258330249, 23.165408814), align=None)
    extrude(amount=-CORTAR_EXTRUIR25_DEPTH, mode=Mode.SUBTRACT)

    # Croquis24 → Cortar-Extruir26 (cut, through all)
    with BuildSketch(Plane(origin=(0, 3, 0), x_dir=(1, 0, 0), z_dir=(0, 1, 0))):
        with Locations((0, -20)):
            Rectangle(CROQUIS24_W, CROQUIS24_H)
    extrude(amount=-CORTAR_EXTRUIR26_DEPTH, mode=Mode.SUBTRACT)


solid = part.part
